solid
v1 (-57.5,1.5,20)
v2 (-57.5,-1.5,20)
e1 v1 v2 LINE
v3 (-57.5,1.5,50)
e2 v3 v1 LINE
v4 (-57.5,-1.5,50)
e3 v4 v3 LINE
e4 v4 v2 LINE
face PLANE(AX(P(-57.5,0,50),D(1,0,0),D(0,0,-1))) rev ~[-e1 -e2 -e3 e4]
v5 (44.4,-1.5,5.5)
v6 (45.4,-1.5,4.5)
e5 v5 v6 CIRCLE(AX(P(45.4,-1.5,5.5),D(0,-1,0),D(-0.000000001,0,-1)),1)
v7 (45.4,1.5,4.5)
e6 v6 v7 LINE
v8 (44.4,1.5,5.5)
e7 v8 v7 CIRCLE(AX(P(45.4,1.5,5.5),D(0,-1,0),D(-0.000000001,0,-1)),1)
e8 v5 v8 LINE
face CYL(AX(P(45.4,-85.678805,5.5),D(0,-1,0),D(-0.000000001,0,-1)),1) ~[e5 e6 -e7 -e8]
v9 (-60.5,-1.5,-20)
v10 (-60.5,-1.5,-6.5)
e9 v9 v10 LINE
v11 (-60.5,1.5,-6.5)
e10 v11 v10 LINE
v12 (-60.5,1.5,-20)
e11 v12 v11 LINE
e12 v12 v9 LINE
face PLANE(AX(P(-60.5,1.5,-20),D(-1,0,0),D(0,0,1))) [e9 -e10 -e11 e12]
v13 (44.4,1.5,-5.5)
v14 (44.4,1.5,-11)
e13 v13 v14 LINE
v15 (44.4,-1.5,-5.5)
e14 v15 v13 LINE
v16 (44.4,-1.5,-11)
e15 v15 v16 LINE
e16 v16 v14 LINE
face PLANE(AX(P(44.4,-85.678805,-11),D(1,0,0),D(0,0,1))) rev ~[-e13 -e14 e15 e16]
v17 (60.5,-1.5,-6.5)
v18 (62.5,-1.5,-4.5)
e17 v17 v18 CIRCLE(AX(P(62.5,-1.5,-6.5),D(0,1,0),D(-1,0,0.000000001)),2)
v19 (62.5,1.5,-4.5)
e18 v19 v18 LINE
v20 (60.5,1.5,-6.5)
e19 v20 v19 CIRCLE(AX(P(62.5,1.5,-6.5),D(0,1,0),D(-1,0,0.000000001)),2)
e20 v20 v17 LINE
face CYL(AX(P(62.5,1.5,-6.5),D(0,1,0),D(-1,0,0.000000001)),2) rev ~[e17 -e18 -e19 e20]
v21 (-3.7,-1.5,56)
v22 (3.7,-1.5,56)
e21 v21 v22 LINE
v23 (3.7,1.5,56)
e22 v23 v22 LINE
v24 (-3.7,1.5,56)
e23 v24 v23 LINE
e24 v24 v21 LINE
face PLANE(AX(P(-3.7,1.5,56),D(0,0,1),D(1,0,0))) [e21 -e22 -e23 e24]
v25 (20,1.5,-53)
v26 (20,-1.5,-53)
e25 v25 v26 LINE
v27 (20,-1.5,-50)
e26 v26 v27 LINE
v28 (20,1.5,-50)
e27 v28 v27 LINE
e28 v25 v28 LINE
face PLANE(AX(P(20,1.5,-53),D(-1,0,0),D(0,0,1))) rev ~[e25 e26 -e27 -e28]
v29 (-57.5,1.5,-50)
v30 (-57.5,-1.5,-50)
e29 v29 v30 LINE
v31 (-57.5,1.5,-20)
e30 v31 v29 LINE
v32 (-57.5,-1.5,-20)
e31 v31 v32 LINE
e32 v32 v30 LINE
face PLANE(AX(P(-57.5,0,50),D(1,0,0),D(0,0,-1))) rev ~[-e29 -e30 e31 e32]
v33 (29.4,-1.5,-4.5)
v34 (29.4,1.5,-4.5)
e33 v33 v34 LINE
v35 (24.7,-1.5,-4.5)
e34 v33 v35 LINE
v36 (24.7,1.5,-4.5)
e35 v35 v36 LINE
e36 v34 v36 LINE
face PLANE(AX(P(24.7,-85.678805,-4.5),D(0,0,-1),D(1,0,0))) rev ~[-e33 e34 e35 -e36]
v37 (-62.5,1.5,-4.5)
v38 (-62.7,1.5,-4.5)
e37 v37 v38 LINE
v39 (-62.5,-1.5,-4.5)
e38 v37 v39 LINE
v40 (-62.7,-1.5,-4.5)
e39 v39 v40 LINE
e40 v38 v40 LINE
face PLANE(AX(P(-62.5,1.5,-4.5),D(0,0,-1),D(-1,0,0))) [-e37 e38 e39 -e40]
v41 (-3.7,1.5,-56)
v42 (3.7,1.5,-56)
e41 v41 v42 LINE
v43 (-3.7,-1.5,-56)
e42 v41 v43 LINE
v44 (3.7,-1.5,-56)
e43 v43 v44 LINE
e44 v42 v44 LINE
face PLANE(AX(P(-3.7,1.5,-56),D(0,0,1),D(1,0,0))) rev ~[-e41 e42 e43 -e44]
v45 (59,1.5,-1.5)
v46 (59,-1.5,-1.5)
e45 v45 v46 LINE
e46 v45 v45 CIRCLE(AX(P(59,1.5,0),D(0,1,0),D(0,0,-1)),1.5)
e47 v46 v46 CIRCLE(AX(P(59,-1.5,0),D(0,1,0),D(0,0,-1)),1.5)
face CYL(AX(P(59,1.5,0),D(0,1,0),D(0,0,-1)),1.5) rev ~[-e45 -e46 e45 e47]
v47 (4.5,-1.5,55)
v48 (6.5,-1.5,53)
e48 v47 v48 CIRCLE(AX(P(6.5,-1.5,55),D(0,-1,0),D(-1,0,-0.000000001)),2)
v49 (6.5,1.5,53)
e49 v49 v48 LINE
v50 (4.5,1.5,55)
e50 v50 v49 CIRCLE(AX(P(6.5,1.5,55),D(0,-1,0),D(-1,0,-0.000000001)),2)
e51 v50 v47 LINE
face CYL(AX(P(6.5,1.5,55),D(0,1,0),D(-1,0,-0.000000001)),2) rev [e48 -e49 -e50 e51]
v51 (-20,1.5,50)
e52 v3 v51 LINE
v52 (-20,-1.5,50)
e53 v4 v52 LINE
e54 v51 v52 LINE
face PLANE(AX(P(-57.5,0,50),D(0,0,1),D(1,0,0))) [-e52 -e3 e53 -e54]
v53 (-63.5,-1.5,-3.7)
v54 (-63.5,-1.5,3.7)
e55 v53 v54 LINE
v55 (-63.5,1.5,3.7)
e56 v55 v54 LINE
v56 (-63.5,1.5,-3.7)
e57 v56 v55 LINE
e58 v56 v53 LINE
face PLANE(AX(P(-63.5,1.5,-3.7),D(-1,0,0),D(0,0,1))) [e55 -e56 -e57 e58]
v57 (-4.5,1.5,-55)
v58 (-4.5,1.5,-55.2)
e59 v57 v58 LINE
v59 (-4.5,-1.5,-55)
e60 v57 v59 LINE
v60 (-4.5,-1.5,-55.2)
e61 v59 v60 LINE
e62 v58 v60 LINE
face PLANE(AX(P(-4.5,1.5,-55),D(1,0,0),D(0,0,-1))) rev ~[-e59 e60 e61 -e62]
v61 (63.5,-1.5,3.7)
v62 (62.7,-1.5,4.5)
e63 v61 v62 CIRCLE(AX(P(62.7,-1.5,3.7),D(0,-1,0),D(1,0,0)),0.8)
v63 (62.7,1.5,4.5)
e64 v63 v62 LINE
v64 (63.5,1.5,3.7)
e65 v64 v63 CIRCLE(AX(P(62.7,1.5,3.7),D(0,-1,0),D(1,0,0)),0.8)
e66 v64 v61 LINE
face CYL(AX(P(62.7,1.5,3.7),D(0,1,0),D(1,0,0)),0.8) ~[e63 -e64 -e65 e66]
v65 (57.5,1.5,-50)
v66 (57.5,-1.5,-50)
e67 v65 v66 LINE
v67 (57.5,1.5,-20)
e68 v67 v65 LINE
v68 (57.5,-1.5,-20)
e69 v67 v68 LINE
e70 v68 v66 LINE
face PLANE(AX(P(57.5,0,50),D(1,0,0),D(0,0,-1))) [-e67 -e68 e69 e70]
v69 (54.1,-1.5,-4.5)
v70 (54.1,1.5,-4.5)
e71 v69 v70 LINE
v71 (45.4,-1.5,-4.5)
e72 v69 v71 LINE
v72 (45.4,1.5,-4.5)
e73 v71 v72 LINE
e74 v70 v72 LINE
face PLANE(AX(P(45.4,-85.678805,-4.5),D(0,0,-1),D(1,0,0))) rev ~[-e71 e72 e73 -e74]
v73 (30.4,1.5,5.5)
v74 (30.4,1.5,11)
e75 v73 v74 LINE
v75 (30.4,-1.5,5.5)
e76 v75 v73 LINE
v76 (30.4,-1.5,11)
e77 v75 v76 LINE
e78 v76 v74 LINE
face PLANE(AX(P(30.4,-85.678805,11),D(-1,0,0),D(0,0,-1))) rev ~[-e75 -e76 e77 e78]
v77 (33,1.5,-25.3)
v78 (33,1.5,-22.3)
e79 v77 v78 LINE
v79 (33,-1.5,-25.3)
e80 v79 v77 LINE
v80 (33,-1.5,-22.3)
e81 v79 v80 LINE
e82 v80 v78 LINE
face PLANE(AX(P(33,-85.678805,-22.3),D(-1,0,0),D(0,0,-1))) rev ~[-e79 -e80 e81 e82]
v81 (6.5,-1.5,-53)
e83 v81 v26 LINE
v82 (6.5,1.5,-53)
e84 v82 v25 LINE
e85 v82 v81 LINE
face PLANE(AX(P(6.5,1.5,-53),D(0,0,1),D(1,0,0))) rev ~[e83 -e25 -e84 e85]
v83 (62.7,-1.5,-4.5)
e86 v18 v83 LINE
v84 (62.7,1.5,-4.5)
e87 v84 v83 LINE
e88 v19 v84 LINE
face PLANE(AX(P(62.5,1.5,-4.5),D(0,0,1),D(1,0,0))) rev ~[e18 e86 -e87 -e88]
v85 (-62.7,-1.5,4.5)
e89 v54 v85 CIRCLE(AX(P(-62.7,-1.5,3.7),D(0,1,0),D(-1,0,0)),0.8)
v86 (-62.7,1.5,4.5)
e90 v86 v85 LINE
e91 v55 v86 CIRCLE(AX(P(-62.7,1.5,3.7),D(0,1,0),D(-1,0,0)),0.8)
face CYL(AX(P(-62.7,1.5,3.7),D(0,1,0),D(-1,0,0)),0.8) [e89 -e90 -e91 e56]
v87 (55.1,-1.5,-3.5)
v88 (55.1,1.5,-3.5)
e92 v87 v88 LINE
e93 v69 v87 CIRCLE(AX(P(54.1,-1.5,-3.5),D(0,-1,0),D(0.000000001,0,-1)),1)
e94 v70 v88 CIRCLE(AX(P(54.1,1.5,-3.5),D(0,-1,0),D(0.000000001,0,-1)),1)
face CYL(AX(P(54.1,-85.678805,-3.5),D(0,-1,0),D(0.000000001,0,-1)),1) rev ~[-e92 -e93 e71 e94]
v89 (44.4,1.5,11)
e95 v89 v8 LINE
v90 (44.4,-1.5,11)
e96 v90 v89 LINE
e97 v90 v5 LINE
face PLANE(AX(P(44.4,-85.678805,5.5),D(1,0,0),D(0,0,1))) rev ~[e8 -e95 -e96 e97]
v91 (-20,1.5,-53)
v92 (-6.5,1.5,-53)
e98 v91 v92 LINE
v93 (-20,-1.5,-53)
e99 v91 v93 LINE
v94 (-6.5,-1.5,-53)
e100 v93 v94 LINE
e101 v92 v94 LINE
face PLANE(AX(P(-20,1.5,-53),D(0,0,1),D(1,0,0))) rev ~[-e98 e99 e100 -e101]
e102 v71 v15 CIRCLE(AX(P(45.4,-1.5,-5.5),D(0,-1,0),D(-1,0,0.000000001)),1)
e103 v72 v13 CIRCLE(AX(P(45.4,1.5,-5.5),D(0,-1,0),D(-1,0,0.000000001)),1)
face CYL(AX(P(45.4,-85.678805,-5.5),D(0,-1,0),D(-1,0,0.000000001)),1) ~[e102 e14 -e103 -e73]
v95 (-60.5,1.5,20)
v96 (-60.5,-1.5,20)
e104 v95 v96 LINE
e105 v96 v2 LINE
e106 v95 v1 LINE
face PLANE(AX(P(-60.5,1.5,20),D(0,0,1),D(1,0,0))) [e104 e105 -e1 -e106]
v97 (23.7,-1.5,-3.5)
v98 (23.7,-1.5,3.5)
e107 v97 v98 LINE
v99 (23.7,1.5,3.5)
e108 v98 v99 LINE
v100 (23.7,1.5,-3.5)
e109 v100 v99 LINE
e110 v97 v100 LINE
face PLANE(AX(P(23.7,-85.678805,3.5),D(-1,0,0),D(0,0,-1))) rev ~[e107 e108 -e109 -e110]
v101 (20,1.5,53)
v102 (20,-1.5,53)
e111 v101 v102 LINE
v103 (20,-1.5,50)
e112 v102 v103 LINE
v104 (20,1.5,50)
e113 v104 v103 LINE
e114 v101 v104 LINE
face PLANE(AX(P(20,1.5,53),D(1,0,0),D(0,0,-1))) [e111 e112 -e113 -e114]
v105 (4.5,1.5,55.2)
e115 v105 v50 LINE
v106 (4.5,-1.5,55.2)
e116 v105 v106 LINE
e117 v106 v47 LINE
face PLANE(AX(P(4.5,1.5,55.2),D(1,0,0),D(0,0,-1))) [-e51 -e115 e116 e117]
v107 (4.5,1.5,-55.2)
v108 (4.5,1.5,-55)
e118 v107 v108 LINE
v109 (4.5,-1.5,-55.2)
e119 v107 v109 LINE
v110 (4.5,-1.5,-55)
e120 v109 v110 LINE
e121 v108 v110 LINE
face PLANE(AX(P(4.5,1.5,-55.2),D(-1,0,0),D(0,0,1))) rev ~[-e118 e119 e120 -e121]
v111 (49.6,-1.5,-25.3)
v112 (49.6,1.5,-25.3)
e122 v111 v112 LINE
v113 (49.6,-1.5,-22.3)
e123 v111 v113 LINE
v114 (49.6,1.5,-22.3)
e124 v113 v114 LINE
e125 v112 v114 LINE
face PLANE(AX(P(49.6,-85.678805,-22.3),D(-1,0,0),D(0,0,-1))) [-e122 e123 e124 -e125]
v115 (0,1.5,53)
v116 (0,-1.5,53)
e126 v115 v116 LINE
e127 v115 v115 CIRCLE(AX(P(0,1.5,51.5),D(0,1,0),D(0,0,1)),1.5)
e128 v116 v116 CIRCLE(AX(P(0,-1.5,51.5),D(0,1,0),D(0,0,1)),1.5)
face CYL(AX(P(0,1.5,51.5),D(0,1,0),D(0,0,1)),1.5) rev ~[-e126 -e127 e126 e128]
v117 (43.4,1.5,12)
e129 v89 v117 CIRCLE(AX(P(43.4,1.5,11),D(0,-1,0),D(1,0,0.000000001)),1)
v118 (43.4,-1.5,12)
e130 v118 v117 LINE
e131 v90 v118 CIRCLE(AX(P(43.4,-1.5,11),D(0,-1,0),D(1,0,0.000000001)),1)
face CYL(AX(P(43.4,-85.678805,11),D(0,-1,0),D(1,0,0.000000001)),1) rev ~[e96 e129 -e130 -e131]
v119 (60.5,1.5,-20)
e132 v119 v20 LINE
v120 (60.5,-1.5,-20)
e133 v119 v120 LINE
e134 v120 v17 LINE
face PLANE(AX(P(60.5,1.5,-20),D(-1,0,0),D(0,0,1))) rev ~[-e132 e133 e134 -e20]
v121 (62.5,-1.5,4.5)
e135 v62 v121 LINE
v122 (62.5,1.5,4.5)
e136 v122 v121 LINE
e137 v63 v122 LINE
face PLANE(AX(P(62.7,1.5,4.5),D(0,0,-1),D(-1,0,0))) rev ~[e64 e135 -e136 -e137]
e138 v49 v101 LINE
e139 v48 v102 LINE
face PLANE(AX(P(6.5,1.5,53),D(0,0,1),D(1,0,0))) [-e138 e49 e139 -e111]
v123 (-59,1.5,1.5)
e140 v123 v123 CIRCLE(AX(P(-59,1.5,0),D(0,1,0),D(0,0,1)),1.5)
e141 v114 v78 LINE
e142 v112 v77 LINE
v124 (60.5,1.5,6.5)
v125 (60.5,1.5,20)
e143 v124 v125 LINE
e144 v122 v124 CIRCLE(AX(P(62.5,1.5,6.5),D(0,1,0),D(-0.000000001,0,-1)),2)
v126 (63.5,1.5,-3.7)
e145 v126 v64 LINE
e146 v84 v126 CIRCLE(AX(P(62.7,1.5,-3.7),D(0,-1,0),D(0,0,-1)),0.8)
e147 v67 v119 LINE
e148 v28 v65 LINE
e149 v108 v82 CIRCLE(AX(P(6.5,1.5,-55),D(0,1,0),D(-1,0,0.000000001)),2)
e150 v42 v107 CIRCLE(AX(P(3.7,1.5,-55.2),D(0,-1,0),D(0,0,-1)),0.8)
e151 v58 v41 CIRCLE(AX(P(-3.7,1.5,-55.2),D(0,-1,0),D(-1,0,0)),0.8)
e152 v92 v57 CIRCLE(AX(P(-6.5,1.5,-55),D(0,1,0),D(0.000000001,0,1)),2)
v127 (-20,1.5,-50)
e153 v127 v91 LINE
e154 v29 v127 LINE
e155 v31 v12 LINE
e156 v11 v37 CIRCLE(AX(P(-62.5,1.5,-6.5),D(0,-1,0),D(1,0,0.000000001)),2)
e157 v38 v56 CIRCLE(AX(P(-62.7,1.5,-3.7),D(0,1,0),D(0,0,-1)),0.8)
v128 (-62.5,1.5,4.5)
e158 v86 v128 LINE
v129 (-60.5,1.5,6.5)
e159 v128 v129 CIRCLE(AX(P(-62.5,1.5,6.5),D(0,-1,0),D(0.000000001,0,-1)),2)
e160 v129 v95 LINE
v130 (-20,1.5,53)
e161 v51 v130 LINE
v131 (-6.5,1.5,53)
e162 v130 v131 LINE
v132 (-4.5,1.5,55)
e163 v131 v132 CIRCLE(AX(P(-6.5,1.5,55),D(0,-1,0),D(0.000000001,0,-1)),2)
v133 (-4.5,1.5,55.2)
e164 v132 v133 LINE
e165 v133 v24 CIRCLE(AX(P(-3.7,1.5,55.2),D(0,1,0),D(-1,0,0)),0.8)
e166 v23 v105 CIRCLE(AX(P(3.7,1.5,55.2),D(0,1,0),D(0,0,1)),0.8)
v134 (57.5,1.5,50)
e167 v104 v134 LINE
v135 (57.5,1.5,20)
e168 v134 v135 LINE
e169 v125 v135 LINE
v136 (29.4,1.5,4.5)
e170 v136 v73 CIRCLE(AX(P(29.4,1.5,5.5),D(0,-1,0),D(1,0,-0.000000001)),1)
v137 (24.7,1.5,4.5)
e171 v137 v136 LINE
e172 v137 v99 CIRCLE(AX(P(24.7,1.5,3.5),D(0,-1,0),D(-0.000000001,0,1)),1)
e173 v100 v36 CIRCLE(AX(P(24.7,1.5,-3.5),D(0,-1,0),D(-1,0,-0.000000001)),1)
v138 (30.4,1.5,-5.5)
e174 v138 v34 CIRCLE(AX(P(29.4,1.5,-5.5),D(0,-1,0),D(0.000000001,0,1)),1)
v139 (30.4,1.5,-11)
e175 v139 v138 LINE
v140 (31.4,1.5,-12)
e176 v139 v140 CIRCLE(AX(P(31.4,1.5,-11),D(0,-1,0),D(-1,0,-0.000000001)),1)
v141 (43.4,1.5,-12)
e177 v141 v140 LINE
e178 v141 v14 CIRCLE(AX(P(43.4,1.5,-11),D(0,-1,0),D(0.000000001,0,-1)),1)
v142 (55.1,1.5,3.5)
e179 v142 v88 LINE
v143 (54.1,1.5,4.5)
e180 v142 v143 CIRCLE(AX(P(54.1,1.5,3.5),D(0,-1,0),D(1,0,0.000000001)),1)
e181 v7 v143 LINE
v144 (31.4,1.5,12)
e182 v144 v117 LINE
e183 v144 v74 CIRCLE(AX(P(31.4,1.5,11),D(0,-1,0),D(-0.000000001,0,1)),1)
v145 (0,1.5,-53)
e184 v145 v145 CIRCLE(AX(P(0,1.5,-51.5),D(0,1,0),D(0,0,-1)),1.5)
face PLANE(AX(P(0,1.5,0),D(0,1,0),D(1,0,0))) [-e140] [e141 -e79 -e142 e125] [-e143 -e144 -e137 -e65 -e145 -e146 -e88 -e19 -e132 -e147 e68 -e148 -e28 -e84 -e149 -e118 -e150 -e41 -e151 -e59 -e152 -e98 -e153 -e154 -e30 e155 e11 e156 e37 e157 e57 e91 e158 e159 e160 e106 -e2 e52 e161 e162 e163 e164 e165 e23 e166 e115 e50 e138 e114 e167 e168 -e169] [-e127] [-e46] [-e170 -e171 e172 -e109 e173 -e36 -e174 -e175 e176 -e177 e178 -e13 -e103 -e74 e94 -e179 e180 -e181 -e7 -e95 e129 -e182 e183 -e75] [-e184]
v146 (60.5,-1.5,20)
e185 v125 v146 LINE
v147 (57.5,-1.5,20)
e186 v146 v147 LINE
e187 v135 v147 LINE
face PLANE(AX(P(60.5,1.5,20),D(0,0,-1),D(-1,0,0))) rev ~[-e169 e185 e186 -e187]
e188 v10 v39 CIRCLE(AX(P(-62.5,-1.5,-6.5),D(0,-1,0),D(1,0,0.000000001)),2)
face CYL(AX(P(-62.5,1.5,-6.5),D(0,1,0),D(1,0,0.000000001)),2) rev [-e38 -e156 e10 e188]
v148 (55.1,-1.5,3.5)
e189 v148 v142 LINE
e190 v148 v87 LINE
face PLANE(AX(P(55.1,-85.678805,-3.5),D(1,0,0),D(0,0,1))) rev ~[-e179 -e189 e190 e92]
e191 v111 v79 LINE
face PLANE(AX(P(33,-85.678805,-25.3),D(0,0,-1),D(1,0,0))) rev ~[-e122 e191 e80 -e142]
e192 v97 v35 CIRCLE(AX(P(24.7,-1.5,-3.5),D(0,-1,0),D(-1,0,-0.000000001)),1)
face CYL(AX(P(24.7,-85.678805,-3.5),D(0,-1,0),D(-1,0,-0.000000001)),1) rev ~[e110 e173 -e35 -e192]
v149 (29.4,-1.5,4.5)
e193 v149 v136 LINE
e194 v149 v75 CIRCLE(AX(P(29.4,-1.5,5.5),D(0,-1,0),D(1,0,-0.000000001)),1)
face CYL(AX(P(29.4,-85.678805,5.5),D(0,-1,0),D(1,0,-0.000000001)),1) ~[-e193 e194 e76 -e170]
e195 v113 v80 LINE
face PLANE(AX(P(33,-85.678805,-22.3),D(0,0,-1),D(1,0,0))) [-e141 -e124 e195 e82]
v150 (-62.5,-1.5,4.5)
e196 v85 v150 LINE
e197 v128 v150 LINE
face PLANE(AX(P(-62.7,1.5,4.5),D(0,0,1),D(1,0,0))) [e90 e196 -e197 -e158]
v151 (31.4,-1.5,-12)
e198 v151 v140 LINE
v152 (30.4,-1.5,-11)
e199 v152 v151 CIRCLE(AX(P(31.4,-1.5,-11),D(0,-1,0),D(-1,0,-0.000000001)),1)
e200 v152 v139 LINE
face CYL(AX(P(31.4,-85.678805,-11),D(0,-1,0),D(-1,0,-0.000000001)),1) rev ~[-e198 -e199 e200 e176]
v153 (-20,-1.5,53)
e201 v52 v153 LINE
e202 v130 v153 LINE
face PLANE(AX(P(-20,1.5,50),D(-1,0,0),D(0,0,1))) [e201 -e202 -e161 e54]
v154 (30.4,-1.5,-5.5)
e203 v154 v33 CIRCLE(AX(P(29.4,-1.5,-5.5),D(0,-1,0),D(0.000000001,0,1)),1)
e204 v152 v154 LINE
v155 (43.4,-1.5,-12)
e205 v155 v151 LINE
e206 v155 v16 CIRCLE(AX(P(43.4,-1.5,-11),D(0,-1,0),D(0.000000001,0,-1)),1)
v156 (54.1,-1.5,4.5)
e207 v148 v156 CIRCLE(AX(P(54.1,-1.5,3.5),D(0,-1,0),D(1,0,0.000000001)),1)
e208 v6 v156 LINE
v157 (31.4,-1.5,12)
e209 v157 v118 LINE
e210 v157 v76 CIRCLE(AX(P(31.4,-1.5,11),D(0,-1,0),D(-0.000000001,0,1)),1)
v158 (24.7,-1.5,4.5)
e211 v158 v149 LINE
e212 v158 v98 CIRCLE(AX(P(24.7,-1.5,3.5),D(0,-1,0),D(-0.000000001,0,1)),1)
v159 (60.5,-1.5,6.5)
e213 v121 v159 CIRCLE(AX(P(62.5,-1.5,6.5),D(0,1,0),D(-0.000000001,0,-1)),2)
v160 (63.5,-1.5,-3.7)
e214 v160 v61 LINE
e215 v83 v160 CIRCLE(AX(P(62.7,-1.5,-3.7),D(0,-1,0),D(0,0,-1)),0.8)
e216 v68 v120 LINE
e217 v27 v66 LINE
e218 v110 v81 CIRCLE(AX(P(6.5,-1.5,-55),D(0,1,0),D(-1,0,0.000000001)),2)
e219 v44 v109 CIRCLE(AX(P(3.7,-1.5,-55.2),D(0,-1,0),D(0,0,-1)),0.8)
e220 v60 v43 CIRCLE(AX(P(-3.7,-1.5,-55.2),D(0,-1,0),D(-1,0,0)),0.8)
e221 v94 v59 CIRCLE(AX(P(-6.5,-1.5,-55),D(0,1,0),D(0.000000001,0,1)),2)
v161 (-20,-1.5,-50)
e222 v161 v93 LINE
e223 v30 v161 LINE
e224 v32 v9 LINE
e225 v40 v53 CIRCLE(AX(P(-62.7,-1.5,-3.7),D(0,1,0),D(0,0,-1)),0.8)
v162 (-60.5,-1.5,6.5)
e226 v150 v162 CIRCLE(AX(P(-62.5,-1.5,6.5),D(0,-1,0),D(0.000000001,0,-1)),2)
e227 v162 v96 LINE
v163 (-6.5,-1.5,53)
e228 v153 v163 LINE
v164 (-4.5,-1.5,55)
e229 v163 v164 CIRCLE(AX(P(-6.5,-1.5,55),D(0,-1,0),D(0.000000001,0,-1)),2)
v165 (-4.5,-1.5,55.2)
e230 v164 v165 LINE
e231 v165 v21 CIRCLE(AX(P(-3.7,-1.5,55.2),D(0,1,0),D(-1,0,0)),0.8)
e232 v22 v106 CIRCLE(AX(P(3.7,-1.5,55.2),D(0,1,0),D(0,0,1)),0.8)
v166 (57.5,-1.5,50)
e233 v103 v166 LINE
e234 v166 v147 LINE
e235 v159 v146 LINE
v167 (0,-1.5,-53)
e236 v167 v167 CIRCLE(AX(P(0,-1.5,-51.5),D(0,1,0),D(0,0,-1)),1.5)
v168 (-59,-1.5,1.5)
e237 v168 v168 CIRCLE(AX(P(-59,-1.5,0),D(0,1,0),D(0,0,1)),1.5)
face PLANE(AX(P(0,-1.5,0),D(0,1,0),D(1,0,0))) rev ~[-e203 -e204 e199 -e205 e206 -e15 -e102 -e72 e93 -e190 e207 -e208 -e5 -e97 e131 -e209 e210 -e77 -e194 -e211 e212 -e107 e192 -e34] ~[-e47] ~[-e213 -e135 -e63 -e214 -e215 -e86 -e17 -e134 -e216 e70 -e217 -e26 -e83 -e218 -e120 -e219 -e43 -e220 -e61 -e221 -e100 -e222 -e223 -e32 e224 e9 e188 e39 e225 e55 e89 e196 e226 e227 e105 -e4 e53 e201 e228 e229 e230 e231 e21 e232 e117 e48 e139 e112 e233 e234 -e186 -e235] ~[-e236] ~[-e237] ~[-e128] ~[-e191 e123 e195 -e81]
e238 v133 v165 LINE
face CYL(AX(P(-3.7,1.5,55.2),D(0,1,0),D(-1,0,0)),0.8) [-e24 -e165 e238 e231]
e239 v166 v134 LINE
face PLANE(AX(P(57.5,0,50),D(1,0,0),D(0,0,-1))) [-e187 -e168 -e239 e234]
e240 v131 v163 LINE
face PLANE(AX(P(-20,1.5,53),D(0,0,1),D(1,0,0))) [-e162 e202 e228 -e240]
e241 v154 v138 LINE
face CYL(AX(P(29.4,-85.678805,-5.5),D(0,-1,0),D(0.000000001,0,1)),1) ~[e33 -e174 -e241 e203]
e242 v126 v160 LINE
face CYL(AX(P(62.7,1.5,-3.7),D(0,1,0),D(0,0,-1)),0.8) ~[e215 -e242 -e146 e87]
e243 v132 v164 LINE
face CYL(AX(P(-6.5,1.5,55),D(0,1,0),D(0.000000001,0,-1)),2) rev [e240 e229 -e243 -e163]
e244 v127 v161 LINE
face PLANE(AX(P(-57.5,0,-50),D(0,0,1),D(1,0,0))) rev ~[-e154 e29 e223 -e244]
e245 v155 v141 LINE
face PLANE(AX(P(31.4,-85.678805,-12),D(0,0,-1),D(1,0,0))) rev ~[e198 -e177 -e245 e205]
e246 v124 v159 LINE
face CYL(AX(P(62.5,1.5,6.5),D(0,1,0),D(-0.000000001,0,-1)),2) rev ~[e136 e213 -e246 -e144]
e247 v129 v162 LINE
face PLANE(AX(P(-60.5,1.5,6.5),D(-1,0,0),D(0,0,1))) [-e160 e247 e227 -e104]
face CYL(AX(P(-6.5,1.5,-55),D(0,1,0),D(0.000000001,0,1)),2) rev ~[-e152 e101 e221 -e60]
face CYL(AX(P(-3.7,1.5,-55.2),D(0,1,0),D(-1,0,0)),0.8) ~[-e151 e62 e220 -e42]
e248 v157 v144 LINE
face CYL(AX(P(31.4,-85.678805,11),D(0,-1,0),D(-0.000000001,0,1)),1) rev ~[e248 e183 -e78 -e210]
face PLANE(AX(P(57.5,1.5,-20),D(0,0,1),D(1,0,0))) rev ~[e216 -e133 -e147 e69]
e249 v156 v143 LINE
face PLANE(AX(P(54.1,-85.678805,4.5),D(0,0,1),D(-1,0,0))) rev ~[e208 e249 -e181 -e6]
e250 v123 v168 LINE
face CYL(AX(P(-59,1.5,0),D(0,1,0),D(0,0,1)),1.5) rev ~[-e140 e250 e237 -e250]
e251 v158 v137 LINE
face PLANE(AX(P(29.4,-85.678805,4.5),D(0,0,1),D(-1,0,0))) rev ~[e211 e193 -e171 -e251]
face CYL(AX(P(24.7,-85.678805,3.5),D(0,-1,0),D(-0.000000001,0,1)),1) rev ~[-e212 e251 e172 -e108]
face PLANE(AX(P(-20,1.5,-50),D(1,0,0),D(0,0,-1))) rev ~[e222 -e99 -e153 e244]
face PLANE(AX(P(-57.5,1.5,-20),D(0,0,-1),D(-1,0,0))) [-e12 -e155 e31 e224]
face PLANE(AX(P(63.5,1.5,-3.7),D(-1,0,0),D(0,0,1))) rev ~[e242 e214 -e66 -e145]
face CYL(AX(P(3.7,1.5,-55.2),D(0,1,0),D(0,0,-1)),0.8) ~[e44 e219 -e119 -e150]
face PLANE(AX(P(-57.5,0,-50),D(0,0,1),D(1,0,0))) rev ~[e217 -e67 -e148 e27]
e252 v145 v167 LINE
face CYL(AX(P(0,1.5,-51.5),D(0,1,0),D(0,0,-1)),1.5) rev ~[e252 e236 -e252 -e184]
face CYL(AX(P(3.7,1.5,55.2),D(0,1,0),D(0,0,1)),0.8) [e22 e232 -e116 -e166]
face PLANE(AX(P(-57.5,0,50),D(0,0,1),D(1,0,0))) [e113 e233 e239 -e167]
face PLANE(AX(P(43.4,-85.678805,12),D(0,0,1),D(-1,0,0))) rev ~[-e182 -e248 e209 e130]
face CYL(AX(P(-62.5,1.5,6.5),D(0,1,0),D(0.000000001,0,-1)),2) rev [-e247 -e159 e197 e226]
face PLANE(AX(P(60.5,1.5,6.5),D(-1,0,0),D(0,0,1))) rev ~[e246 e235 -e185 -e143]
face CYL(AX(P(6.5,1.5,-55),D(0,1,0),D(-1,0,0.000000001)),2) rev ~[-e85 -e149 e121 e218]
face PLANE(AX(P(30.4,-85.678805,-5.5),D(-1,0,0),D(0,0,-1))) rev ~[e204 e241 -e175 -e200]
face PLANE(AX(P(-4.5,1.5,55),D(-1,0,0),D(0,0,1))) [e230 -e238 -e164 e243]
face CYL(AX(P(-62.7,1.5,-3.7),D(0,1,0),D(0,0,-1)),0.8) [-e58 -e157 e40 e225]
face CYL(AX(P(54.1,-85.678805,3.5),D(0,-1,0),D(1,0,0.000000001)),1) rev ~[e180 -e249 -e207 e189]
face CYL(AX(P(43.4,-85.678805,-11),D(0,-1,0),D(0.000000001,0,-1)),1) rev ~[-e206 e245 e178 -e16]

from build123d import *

# Parameters (mm, degrees)
ESBO_O1_W                = 115
ESBO_O1_H                = 100
RESSALTO_EXTRUS_O1_DEPTH = 1.5
RESSALTO_EXTRUS_O2_DEPTH = 3
ESBO_O2_R                = 1.5
CORTE_EXTRUS_O1_DEPTH    = 85.718652019
CUT_EXTRUDE3_DEPTH       = 85.678804904
CUT_EXTRUDE3_DEPTH_BACK  = 85.678804904
SKETCH2_W                = 16.6
SKETCH2_H                = 3


with BuildPart() as part:
    # Esboço1 → Ressalto-extrusão1 (new, symmetric)
    with BuildSketch(Plane(origin=(0, 0, 0), x_dir=(1, 0, 0), z_dir=(0, 1, 0))):
        Rectangle(ESBO_O1_W, ESBO_O1_H)
    extrude(amount=RESSALTO_EXTRUS_O1_DEPTH, both=True)

    # Esboço4 → Ressalto-extrusão2 (add, through all)
    with BuildSketch(Plane(origin=(0, 1.5, 0), x_dir=(1, 0, 0), z_dir=(0, 1, 0))):
        with BuildLine():
            Line((6.5, 53), (20, 53))
            Line((20, 53), (20, 50))
            Line((20, 50), (-20, 50))
            Line((-20, 50), (-20, 53))
            Line((-20, 53), (-6.5, 53))
            ThreePointArc((-6.5, 53), (-5.085786438, 53.585786438), (-4.5, 55))
            Line((-4.5, 55), (-4.5, 55.2))
            ThreePointArc((-4.5, 55.2), (-4.265685425, 55.765685425), (-3.7, 56))
            Line((-3.7, 56), (3.7, 56))
            ThreePointArc((3.7, 56), (4.265685425, 55.765685425), (4.5, 55.2))
            Line((4.5, 55.2), (4.5, 55))
            ThreePointArc((4.5, 55), (5.085786438, 53.585786438), (6.5, 53))
        make_face()
        with BuildLine():
            Line((-63.5, 3.7), (-63.5, -3.7))
            ThreePointArc((-63.5, -3.7), (-63.265685425, -4.265685425), (-62.7, -4.5))
            Line((-62.7, -4.5), (-62.5, -4.5))
            ThreePointArc((-62.5, -4.5), (-61.085786438, -5.085786438), (-60.5, -6.5))
            Line((-60.5, -6.5), (-60.5, -20))
            Line((-60.5, -20), (-57.5, -20))
            Line((-57.5, -20), (-57.5, 20))
            Line((-57.5, 20), (-60.5, 20))
            Line((-60.5, 20), (-60.5, 6.5))
            ThreePointArc((-60.5, 6.5), (-61.085786438, 5.085786438), (-62.5, 4.5))
            Line((-62.5, 4.5), (-62.7, 4.5))
            ThreePointArc((-62.7, 4.5), (-63.265685425, 4.265685425), (-63.5, 3.7))
        make_face()
        with BuildLine():
            Line((4.5, -55.2), (4.5, -55))
            ThreePointArc((4.5, -55), (5.085786438, -53.585786438), (6.5, -53))
            Line((6.5, -53), (20, -53))
            Line((20, -53), (20, -50))
            Line((20, -50), (-20, -50))
            Line((-20, -50), (-20, -53))
            Line((-20, -53), (-6.5, -53))
            ThreePointArc((-6.5, -53), (-5.085786438, -53.585786438), (-4.5, -55))
            Line((-4.5, -55), (-4.5, -55.2))
            ThreePointArc((-4.5, -55.2), (-4.265685425, -55.765685425), (-3.7, -56))
            Line((-3.7, -56), (3.7, -56))
            ThreePointArc((3.7, -56), (4.265685425, -55.765685425), (4.5, -55.2))
        make_face()
        with BuildLine():
            Line((57.5, 20), (60.5, 20))
            Line((60.5, 20), (60.5, 6.5))
            ThreePointArc((60.5, 6.5), (61.085786438, 5.085786438), (62.5, 4.5))
            Line((62.5, 4.5), (62.7, 4.5))
            ThreePointArc((62.7, 4.5), (63.265685425, 4.265685425), (63.5, 3.7))
            Line((63.5, 3.7), (63.5, -3.7))
            ThreePointArc((63.5, -3.7), (63.265685425, -4.265685425), (62.7, -4.5))
            Line((62.7, -4.5), (62.5, -4.5))
            ThreePointArc((62.5, -4.5), (61.085786438, -5.085786438), (60.5, -6.5))
            Line((60.5, -6.5), (60.5, -20))
            Line((60.5, -20), (57.5, -20))
            Line((57.5, -20), (57.5, 20))
        make_face()
    extrude(amount=-RESSALTO_EXTRUS_O2_DEPTH)

    # Esboço2 → Corte-extrusão1 (cut, through all)
    with BuildSketch(Plane(origin=(0, 1.5, 0), x_dir=(1, 0, 0), z_dir=(0, 1, 0))):
        with Locations(Location((0, -51.5, 0), (0, 0, 270))):
            Circle(ESBO_O2_R)
        with Locations(Location((0, 51.5, 0), (0, 0, 90))):
            Circle(ESBO_O2_R)
        with Locations(Location((59, 0, 0), (0, 0, 90))):
            Circle(ESBO_O2_R)
        with Locations(Location((-59, 0, 0), (0, 0, 270))):
            Circle(ESBO_O2_R)
    extrude(amount=-CORTE_EXTRUS_O1_DEPTH, mode=Mode.SUBTRACT)

    # Sketch2 → Cut-Extrude3 (cut, two sides: drawn at the far end of the back side and taken through both)
    with BuildSketch(Plane(origin=(0, 0, 0), x_dir=(1, 0, 0), z_dir=(0, 1, 0)).offset(-CUT_EXTRUDE3_DEPTH_BACK)):
        with BuildLine():
            Line((24.7, 4.5), (29.4, 4.5))
            ThreePointArc((29.4, 4.5), (30.107106781, 4.792893219), (30.4, 5.5))
            Line((30.4, 5.5), (30.4, 11))
            ThreePointArc((30.4, 11), (30.692893219, 11.707106781), (31.4, 12))
            Line((31.4, 12), (43.4, 12))
            ThreePointArc((43.4, 12), (44.107106781, 11.707106781), (44.4, 11))
            Line((44.4, 11), (44.4, 5.5))
            ThreePointArc((44.4, 5.5), (44.692893219, 4.792893219), (45.4, 4.5))
            Line((45.4, 4.5), (54.1, 4.5))
            ThreePointArc((54.1, 4.5), (54.807106781, 4.207106781), (55.1, 3.5))
            Line((55.1, 3.5), (55.1, -3.5))
            ThreePointArc((55.1, -3.5), (54.807106781, -4.207106781), (54.1, -4.5))
            Line((54.1, -4.5), (45.4, -4.5))
            ThreePointArc((45.4, -4.5), (44.692893219, -4.792893219), (44.4, -5.5))
            Line((44.4, -5.5), (44.4, -11))
            ThreePointArc((44.4, -11), (44.107106781, -11.707106781), (43.4, -12))
            Line((43.4, -12), (31.4, -12))
            ThreePointArc((31.4, -12), (30.692893219, -11.707106781), (30.4, -11))
            Line((30.4, -11), (30.4, -5.5))
            ThreePointArc((30.4, -5.5), (30.107106781, -4.792893219), (29.4, -4.5))
            Line((29.4, -4.5), (24.7, -4.5))
            ThreePointArc((24.7, -4.5), (23.992893219, -4.207106781), (23.7, -3.5))
            Line((23.7, -3.5), (23.7, 3.5))
            ThreePointArc((23.7, 3.5), (23.992893219, 4.207106781), (24.7, 4.5))
        make_face()
        with Locations((41.3, 23.8)):
            Rectangle(SKETCH2_W, SKETCH2_H)
    extrude(amount=CUT_EXTRUDE3_DEPTH + CUT_EXTRUDE3_DEPTH_BACK, mode=Mode.SUBTRACT)


solid = part.part
